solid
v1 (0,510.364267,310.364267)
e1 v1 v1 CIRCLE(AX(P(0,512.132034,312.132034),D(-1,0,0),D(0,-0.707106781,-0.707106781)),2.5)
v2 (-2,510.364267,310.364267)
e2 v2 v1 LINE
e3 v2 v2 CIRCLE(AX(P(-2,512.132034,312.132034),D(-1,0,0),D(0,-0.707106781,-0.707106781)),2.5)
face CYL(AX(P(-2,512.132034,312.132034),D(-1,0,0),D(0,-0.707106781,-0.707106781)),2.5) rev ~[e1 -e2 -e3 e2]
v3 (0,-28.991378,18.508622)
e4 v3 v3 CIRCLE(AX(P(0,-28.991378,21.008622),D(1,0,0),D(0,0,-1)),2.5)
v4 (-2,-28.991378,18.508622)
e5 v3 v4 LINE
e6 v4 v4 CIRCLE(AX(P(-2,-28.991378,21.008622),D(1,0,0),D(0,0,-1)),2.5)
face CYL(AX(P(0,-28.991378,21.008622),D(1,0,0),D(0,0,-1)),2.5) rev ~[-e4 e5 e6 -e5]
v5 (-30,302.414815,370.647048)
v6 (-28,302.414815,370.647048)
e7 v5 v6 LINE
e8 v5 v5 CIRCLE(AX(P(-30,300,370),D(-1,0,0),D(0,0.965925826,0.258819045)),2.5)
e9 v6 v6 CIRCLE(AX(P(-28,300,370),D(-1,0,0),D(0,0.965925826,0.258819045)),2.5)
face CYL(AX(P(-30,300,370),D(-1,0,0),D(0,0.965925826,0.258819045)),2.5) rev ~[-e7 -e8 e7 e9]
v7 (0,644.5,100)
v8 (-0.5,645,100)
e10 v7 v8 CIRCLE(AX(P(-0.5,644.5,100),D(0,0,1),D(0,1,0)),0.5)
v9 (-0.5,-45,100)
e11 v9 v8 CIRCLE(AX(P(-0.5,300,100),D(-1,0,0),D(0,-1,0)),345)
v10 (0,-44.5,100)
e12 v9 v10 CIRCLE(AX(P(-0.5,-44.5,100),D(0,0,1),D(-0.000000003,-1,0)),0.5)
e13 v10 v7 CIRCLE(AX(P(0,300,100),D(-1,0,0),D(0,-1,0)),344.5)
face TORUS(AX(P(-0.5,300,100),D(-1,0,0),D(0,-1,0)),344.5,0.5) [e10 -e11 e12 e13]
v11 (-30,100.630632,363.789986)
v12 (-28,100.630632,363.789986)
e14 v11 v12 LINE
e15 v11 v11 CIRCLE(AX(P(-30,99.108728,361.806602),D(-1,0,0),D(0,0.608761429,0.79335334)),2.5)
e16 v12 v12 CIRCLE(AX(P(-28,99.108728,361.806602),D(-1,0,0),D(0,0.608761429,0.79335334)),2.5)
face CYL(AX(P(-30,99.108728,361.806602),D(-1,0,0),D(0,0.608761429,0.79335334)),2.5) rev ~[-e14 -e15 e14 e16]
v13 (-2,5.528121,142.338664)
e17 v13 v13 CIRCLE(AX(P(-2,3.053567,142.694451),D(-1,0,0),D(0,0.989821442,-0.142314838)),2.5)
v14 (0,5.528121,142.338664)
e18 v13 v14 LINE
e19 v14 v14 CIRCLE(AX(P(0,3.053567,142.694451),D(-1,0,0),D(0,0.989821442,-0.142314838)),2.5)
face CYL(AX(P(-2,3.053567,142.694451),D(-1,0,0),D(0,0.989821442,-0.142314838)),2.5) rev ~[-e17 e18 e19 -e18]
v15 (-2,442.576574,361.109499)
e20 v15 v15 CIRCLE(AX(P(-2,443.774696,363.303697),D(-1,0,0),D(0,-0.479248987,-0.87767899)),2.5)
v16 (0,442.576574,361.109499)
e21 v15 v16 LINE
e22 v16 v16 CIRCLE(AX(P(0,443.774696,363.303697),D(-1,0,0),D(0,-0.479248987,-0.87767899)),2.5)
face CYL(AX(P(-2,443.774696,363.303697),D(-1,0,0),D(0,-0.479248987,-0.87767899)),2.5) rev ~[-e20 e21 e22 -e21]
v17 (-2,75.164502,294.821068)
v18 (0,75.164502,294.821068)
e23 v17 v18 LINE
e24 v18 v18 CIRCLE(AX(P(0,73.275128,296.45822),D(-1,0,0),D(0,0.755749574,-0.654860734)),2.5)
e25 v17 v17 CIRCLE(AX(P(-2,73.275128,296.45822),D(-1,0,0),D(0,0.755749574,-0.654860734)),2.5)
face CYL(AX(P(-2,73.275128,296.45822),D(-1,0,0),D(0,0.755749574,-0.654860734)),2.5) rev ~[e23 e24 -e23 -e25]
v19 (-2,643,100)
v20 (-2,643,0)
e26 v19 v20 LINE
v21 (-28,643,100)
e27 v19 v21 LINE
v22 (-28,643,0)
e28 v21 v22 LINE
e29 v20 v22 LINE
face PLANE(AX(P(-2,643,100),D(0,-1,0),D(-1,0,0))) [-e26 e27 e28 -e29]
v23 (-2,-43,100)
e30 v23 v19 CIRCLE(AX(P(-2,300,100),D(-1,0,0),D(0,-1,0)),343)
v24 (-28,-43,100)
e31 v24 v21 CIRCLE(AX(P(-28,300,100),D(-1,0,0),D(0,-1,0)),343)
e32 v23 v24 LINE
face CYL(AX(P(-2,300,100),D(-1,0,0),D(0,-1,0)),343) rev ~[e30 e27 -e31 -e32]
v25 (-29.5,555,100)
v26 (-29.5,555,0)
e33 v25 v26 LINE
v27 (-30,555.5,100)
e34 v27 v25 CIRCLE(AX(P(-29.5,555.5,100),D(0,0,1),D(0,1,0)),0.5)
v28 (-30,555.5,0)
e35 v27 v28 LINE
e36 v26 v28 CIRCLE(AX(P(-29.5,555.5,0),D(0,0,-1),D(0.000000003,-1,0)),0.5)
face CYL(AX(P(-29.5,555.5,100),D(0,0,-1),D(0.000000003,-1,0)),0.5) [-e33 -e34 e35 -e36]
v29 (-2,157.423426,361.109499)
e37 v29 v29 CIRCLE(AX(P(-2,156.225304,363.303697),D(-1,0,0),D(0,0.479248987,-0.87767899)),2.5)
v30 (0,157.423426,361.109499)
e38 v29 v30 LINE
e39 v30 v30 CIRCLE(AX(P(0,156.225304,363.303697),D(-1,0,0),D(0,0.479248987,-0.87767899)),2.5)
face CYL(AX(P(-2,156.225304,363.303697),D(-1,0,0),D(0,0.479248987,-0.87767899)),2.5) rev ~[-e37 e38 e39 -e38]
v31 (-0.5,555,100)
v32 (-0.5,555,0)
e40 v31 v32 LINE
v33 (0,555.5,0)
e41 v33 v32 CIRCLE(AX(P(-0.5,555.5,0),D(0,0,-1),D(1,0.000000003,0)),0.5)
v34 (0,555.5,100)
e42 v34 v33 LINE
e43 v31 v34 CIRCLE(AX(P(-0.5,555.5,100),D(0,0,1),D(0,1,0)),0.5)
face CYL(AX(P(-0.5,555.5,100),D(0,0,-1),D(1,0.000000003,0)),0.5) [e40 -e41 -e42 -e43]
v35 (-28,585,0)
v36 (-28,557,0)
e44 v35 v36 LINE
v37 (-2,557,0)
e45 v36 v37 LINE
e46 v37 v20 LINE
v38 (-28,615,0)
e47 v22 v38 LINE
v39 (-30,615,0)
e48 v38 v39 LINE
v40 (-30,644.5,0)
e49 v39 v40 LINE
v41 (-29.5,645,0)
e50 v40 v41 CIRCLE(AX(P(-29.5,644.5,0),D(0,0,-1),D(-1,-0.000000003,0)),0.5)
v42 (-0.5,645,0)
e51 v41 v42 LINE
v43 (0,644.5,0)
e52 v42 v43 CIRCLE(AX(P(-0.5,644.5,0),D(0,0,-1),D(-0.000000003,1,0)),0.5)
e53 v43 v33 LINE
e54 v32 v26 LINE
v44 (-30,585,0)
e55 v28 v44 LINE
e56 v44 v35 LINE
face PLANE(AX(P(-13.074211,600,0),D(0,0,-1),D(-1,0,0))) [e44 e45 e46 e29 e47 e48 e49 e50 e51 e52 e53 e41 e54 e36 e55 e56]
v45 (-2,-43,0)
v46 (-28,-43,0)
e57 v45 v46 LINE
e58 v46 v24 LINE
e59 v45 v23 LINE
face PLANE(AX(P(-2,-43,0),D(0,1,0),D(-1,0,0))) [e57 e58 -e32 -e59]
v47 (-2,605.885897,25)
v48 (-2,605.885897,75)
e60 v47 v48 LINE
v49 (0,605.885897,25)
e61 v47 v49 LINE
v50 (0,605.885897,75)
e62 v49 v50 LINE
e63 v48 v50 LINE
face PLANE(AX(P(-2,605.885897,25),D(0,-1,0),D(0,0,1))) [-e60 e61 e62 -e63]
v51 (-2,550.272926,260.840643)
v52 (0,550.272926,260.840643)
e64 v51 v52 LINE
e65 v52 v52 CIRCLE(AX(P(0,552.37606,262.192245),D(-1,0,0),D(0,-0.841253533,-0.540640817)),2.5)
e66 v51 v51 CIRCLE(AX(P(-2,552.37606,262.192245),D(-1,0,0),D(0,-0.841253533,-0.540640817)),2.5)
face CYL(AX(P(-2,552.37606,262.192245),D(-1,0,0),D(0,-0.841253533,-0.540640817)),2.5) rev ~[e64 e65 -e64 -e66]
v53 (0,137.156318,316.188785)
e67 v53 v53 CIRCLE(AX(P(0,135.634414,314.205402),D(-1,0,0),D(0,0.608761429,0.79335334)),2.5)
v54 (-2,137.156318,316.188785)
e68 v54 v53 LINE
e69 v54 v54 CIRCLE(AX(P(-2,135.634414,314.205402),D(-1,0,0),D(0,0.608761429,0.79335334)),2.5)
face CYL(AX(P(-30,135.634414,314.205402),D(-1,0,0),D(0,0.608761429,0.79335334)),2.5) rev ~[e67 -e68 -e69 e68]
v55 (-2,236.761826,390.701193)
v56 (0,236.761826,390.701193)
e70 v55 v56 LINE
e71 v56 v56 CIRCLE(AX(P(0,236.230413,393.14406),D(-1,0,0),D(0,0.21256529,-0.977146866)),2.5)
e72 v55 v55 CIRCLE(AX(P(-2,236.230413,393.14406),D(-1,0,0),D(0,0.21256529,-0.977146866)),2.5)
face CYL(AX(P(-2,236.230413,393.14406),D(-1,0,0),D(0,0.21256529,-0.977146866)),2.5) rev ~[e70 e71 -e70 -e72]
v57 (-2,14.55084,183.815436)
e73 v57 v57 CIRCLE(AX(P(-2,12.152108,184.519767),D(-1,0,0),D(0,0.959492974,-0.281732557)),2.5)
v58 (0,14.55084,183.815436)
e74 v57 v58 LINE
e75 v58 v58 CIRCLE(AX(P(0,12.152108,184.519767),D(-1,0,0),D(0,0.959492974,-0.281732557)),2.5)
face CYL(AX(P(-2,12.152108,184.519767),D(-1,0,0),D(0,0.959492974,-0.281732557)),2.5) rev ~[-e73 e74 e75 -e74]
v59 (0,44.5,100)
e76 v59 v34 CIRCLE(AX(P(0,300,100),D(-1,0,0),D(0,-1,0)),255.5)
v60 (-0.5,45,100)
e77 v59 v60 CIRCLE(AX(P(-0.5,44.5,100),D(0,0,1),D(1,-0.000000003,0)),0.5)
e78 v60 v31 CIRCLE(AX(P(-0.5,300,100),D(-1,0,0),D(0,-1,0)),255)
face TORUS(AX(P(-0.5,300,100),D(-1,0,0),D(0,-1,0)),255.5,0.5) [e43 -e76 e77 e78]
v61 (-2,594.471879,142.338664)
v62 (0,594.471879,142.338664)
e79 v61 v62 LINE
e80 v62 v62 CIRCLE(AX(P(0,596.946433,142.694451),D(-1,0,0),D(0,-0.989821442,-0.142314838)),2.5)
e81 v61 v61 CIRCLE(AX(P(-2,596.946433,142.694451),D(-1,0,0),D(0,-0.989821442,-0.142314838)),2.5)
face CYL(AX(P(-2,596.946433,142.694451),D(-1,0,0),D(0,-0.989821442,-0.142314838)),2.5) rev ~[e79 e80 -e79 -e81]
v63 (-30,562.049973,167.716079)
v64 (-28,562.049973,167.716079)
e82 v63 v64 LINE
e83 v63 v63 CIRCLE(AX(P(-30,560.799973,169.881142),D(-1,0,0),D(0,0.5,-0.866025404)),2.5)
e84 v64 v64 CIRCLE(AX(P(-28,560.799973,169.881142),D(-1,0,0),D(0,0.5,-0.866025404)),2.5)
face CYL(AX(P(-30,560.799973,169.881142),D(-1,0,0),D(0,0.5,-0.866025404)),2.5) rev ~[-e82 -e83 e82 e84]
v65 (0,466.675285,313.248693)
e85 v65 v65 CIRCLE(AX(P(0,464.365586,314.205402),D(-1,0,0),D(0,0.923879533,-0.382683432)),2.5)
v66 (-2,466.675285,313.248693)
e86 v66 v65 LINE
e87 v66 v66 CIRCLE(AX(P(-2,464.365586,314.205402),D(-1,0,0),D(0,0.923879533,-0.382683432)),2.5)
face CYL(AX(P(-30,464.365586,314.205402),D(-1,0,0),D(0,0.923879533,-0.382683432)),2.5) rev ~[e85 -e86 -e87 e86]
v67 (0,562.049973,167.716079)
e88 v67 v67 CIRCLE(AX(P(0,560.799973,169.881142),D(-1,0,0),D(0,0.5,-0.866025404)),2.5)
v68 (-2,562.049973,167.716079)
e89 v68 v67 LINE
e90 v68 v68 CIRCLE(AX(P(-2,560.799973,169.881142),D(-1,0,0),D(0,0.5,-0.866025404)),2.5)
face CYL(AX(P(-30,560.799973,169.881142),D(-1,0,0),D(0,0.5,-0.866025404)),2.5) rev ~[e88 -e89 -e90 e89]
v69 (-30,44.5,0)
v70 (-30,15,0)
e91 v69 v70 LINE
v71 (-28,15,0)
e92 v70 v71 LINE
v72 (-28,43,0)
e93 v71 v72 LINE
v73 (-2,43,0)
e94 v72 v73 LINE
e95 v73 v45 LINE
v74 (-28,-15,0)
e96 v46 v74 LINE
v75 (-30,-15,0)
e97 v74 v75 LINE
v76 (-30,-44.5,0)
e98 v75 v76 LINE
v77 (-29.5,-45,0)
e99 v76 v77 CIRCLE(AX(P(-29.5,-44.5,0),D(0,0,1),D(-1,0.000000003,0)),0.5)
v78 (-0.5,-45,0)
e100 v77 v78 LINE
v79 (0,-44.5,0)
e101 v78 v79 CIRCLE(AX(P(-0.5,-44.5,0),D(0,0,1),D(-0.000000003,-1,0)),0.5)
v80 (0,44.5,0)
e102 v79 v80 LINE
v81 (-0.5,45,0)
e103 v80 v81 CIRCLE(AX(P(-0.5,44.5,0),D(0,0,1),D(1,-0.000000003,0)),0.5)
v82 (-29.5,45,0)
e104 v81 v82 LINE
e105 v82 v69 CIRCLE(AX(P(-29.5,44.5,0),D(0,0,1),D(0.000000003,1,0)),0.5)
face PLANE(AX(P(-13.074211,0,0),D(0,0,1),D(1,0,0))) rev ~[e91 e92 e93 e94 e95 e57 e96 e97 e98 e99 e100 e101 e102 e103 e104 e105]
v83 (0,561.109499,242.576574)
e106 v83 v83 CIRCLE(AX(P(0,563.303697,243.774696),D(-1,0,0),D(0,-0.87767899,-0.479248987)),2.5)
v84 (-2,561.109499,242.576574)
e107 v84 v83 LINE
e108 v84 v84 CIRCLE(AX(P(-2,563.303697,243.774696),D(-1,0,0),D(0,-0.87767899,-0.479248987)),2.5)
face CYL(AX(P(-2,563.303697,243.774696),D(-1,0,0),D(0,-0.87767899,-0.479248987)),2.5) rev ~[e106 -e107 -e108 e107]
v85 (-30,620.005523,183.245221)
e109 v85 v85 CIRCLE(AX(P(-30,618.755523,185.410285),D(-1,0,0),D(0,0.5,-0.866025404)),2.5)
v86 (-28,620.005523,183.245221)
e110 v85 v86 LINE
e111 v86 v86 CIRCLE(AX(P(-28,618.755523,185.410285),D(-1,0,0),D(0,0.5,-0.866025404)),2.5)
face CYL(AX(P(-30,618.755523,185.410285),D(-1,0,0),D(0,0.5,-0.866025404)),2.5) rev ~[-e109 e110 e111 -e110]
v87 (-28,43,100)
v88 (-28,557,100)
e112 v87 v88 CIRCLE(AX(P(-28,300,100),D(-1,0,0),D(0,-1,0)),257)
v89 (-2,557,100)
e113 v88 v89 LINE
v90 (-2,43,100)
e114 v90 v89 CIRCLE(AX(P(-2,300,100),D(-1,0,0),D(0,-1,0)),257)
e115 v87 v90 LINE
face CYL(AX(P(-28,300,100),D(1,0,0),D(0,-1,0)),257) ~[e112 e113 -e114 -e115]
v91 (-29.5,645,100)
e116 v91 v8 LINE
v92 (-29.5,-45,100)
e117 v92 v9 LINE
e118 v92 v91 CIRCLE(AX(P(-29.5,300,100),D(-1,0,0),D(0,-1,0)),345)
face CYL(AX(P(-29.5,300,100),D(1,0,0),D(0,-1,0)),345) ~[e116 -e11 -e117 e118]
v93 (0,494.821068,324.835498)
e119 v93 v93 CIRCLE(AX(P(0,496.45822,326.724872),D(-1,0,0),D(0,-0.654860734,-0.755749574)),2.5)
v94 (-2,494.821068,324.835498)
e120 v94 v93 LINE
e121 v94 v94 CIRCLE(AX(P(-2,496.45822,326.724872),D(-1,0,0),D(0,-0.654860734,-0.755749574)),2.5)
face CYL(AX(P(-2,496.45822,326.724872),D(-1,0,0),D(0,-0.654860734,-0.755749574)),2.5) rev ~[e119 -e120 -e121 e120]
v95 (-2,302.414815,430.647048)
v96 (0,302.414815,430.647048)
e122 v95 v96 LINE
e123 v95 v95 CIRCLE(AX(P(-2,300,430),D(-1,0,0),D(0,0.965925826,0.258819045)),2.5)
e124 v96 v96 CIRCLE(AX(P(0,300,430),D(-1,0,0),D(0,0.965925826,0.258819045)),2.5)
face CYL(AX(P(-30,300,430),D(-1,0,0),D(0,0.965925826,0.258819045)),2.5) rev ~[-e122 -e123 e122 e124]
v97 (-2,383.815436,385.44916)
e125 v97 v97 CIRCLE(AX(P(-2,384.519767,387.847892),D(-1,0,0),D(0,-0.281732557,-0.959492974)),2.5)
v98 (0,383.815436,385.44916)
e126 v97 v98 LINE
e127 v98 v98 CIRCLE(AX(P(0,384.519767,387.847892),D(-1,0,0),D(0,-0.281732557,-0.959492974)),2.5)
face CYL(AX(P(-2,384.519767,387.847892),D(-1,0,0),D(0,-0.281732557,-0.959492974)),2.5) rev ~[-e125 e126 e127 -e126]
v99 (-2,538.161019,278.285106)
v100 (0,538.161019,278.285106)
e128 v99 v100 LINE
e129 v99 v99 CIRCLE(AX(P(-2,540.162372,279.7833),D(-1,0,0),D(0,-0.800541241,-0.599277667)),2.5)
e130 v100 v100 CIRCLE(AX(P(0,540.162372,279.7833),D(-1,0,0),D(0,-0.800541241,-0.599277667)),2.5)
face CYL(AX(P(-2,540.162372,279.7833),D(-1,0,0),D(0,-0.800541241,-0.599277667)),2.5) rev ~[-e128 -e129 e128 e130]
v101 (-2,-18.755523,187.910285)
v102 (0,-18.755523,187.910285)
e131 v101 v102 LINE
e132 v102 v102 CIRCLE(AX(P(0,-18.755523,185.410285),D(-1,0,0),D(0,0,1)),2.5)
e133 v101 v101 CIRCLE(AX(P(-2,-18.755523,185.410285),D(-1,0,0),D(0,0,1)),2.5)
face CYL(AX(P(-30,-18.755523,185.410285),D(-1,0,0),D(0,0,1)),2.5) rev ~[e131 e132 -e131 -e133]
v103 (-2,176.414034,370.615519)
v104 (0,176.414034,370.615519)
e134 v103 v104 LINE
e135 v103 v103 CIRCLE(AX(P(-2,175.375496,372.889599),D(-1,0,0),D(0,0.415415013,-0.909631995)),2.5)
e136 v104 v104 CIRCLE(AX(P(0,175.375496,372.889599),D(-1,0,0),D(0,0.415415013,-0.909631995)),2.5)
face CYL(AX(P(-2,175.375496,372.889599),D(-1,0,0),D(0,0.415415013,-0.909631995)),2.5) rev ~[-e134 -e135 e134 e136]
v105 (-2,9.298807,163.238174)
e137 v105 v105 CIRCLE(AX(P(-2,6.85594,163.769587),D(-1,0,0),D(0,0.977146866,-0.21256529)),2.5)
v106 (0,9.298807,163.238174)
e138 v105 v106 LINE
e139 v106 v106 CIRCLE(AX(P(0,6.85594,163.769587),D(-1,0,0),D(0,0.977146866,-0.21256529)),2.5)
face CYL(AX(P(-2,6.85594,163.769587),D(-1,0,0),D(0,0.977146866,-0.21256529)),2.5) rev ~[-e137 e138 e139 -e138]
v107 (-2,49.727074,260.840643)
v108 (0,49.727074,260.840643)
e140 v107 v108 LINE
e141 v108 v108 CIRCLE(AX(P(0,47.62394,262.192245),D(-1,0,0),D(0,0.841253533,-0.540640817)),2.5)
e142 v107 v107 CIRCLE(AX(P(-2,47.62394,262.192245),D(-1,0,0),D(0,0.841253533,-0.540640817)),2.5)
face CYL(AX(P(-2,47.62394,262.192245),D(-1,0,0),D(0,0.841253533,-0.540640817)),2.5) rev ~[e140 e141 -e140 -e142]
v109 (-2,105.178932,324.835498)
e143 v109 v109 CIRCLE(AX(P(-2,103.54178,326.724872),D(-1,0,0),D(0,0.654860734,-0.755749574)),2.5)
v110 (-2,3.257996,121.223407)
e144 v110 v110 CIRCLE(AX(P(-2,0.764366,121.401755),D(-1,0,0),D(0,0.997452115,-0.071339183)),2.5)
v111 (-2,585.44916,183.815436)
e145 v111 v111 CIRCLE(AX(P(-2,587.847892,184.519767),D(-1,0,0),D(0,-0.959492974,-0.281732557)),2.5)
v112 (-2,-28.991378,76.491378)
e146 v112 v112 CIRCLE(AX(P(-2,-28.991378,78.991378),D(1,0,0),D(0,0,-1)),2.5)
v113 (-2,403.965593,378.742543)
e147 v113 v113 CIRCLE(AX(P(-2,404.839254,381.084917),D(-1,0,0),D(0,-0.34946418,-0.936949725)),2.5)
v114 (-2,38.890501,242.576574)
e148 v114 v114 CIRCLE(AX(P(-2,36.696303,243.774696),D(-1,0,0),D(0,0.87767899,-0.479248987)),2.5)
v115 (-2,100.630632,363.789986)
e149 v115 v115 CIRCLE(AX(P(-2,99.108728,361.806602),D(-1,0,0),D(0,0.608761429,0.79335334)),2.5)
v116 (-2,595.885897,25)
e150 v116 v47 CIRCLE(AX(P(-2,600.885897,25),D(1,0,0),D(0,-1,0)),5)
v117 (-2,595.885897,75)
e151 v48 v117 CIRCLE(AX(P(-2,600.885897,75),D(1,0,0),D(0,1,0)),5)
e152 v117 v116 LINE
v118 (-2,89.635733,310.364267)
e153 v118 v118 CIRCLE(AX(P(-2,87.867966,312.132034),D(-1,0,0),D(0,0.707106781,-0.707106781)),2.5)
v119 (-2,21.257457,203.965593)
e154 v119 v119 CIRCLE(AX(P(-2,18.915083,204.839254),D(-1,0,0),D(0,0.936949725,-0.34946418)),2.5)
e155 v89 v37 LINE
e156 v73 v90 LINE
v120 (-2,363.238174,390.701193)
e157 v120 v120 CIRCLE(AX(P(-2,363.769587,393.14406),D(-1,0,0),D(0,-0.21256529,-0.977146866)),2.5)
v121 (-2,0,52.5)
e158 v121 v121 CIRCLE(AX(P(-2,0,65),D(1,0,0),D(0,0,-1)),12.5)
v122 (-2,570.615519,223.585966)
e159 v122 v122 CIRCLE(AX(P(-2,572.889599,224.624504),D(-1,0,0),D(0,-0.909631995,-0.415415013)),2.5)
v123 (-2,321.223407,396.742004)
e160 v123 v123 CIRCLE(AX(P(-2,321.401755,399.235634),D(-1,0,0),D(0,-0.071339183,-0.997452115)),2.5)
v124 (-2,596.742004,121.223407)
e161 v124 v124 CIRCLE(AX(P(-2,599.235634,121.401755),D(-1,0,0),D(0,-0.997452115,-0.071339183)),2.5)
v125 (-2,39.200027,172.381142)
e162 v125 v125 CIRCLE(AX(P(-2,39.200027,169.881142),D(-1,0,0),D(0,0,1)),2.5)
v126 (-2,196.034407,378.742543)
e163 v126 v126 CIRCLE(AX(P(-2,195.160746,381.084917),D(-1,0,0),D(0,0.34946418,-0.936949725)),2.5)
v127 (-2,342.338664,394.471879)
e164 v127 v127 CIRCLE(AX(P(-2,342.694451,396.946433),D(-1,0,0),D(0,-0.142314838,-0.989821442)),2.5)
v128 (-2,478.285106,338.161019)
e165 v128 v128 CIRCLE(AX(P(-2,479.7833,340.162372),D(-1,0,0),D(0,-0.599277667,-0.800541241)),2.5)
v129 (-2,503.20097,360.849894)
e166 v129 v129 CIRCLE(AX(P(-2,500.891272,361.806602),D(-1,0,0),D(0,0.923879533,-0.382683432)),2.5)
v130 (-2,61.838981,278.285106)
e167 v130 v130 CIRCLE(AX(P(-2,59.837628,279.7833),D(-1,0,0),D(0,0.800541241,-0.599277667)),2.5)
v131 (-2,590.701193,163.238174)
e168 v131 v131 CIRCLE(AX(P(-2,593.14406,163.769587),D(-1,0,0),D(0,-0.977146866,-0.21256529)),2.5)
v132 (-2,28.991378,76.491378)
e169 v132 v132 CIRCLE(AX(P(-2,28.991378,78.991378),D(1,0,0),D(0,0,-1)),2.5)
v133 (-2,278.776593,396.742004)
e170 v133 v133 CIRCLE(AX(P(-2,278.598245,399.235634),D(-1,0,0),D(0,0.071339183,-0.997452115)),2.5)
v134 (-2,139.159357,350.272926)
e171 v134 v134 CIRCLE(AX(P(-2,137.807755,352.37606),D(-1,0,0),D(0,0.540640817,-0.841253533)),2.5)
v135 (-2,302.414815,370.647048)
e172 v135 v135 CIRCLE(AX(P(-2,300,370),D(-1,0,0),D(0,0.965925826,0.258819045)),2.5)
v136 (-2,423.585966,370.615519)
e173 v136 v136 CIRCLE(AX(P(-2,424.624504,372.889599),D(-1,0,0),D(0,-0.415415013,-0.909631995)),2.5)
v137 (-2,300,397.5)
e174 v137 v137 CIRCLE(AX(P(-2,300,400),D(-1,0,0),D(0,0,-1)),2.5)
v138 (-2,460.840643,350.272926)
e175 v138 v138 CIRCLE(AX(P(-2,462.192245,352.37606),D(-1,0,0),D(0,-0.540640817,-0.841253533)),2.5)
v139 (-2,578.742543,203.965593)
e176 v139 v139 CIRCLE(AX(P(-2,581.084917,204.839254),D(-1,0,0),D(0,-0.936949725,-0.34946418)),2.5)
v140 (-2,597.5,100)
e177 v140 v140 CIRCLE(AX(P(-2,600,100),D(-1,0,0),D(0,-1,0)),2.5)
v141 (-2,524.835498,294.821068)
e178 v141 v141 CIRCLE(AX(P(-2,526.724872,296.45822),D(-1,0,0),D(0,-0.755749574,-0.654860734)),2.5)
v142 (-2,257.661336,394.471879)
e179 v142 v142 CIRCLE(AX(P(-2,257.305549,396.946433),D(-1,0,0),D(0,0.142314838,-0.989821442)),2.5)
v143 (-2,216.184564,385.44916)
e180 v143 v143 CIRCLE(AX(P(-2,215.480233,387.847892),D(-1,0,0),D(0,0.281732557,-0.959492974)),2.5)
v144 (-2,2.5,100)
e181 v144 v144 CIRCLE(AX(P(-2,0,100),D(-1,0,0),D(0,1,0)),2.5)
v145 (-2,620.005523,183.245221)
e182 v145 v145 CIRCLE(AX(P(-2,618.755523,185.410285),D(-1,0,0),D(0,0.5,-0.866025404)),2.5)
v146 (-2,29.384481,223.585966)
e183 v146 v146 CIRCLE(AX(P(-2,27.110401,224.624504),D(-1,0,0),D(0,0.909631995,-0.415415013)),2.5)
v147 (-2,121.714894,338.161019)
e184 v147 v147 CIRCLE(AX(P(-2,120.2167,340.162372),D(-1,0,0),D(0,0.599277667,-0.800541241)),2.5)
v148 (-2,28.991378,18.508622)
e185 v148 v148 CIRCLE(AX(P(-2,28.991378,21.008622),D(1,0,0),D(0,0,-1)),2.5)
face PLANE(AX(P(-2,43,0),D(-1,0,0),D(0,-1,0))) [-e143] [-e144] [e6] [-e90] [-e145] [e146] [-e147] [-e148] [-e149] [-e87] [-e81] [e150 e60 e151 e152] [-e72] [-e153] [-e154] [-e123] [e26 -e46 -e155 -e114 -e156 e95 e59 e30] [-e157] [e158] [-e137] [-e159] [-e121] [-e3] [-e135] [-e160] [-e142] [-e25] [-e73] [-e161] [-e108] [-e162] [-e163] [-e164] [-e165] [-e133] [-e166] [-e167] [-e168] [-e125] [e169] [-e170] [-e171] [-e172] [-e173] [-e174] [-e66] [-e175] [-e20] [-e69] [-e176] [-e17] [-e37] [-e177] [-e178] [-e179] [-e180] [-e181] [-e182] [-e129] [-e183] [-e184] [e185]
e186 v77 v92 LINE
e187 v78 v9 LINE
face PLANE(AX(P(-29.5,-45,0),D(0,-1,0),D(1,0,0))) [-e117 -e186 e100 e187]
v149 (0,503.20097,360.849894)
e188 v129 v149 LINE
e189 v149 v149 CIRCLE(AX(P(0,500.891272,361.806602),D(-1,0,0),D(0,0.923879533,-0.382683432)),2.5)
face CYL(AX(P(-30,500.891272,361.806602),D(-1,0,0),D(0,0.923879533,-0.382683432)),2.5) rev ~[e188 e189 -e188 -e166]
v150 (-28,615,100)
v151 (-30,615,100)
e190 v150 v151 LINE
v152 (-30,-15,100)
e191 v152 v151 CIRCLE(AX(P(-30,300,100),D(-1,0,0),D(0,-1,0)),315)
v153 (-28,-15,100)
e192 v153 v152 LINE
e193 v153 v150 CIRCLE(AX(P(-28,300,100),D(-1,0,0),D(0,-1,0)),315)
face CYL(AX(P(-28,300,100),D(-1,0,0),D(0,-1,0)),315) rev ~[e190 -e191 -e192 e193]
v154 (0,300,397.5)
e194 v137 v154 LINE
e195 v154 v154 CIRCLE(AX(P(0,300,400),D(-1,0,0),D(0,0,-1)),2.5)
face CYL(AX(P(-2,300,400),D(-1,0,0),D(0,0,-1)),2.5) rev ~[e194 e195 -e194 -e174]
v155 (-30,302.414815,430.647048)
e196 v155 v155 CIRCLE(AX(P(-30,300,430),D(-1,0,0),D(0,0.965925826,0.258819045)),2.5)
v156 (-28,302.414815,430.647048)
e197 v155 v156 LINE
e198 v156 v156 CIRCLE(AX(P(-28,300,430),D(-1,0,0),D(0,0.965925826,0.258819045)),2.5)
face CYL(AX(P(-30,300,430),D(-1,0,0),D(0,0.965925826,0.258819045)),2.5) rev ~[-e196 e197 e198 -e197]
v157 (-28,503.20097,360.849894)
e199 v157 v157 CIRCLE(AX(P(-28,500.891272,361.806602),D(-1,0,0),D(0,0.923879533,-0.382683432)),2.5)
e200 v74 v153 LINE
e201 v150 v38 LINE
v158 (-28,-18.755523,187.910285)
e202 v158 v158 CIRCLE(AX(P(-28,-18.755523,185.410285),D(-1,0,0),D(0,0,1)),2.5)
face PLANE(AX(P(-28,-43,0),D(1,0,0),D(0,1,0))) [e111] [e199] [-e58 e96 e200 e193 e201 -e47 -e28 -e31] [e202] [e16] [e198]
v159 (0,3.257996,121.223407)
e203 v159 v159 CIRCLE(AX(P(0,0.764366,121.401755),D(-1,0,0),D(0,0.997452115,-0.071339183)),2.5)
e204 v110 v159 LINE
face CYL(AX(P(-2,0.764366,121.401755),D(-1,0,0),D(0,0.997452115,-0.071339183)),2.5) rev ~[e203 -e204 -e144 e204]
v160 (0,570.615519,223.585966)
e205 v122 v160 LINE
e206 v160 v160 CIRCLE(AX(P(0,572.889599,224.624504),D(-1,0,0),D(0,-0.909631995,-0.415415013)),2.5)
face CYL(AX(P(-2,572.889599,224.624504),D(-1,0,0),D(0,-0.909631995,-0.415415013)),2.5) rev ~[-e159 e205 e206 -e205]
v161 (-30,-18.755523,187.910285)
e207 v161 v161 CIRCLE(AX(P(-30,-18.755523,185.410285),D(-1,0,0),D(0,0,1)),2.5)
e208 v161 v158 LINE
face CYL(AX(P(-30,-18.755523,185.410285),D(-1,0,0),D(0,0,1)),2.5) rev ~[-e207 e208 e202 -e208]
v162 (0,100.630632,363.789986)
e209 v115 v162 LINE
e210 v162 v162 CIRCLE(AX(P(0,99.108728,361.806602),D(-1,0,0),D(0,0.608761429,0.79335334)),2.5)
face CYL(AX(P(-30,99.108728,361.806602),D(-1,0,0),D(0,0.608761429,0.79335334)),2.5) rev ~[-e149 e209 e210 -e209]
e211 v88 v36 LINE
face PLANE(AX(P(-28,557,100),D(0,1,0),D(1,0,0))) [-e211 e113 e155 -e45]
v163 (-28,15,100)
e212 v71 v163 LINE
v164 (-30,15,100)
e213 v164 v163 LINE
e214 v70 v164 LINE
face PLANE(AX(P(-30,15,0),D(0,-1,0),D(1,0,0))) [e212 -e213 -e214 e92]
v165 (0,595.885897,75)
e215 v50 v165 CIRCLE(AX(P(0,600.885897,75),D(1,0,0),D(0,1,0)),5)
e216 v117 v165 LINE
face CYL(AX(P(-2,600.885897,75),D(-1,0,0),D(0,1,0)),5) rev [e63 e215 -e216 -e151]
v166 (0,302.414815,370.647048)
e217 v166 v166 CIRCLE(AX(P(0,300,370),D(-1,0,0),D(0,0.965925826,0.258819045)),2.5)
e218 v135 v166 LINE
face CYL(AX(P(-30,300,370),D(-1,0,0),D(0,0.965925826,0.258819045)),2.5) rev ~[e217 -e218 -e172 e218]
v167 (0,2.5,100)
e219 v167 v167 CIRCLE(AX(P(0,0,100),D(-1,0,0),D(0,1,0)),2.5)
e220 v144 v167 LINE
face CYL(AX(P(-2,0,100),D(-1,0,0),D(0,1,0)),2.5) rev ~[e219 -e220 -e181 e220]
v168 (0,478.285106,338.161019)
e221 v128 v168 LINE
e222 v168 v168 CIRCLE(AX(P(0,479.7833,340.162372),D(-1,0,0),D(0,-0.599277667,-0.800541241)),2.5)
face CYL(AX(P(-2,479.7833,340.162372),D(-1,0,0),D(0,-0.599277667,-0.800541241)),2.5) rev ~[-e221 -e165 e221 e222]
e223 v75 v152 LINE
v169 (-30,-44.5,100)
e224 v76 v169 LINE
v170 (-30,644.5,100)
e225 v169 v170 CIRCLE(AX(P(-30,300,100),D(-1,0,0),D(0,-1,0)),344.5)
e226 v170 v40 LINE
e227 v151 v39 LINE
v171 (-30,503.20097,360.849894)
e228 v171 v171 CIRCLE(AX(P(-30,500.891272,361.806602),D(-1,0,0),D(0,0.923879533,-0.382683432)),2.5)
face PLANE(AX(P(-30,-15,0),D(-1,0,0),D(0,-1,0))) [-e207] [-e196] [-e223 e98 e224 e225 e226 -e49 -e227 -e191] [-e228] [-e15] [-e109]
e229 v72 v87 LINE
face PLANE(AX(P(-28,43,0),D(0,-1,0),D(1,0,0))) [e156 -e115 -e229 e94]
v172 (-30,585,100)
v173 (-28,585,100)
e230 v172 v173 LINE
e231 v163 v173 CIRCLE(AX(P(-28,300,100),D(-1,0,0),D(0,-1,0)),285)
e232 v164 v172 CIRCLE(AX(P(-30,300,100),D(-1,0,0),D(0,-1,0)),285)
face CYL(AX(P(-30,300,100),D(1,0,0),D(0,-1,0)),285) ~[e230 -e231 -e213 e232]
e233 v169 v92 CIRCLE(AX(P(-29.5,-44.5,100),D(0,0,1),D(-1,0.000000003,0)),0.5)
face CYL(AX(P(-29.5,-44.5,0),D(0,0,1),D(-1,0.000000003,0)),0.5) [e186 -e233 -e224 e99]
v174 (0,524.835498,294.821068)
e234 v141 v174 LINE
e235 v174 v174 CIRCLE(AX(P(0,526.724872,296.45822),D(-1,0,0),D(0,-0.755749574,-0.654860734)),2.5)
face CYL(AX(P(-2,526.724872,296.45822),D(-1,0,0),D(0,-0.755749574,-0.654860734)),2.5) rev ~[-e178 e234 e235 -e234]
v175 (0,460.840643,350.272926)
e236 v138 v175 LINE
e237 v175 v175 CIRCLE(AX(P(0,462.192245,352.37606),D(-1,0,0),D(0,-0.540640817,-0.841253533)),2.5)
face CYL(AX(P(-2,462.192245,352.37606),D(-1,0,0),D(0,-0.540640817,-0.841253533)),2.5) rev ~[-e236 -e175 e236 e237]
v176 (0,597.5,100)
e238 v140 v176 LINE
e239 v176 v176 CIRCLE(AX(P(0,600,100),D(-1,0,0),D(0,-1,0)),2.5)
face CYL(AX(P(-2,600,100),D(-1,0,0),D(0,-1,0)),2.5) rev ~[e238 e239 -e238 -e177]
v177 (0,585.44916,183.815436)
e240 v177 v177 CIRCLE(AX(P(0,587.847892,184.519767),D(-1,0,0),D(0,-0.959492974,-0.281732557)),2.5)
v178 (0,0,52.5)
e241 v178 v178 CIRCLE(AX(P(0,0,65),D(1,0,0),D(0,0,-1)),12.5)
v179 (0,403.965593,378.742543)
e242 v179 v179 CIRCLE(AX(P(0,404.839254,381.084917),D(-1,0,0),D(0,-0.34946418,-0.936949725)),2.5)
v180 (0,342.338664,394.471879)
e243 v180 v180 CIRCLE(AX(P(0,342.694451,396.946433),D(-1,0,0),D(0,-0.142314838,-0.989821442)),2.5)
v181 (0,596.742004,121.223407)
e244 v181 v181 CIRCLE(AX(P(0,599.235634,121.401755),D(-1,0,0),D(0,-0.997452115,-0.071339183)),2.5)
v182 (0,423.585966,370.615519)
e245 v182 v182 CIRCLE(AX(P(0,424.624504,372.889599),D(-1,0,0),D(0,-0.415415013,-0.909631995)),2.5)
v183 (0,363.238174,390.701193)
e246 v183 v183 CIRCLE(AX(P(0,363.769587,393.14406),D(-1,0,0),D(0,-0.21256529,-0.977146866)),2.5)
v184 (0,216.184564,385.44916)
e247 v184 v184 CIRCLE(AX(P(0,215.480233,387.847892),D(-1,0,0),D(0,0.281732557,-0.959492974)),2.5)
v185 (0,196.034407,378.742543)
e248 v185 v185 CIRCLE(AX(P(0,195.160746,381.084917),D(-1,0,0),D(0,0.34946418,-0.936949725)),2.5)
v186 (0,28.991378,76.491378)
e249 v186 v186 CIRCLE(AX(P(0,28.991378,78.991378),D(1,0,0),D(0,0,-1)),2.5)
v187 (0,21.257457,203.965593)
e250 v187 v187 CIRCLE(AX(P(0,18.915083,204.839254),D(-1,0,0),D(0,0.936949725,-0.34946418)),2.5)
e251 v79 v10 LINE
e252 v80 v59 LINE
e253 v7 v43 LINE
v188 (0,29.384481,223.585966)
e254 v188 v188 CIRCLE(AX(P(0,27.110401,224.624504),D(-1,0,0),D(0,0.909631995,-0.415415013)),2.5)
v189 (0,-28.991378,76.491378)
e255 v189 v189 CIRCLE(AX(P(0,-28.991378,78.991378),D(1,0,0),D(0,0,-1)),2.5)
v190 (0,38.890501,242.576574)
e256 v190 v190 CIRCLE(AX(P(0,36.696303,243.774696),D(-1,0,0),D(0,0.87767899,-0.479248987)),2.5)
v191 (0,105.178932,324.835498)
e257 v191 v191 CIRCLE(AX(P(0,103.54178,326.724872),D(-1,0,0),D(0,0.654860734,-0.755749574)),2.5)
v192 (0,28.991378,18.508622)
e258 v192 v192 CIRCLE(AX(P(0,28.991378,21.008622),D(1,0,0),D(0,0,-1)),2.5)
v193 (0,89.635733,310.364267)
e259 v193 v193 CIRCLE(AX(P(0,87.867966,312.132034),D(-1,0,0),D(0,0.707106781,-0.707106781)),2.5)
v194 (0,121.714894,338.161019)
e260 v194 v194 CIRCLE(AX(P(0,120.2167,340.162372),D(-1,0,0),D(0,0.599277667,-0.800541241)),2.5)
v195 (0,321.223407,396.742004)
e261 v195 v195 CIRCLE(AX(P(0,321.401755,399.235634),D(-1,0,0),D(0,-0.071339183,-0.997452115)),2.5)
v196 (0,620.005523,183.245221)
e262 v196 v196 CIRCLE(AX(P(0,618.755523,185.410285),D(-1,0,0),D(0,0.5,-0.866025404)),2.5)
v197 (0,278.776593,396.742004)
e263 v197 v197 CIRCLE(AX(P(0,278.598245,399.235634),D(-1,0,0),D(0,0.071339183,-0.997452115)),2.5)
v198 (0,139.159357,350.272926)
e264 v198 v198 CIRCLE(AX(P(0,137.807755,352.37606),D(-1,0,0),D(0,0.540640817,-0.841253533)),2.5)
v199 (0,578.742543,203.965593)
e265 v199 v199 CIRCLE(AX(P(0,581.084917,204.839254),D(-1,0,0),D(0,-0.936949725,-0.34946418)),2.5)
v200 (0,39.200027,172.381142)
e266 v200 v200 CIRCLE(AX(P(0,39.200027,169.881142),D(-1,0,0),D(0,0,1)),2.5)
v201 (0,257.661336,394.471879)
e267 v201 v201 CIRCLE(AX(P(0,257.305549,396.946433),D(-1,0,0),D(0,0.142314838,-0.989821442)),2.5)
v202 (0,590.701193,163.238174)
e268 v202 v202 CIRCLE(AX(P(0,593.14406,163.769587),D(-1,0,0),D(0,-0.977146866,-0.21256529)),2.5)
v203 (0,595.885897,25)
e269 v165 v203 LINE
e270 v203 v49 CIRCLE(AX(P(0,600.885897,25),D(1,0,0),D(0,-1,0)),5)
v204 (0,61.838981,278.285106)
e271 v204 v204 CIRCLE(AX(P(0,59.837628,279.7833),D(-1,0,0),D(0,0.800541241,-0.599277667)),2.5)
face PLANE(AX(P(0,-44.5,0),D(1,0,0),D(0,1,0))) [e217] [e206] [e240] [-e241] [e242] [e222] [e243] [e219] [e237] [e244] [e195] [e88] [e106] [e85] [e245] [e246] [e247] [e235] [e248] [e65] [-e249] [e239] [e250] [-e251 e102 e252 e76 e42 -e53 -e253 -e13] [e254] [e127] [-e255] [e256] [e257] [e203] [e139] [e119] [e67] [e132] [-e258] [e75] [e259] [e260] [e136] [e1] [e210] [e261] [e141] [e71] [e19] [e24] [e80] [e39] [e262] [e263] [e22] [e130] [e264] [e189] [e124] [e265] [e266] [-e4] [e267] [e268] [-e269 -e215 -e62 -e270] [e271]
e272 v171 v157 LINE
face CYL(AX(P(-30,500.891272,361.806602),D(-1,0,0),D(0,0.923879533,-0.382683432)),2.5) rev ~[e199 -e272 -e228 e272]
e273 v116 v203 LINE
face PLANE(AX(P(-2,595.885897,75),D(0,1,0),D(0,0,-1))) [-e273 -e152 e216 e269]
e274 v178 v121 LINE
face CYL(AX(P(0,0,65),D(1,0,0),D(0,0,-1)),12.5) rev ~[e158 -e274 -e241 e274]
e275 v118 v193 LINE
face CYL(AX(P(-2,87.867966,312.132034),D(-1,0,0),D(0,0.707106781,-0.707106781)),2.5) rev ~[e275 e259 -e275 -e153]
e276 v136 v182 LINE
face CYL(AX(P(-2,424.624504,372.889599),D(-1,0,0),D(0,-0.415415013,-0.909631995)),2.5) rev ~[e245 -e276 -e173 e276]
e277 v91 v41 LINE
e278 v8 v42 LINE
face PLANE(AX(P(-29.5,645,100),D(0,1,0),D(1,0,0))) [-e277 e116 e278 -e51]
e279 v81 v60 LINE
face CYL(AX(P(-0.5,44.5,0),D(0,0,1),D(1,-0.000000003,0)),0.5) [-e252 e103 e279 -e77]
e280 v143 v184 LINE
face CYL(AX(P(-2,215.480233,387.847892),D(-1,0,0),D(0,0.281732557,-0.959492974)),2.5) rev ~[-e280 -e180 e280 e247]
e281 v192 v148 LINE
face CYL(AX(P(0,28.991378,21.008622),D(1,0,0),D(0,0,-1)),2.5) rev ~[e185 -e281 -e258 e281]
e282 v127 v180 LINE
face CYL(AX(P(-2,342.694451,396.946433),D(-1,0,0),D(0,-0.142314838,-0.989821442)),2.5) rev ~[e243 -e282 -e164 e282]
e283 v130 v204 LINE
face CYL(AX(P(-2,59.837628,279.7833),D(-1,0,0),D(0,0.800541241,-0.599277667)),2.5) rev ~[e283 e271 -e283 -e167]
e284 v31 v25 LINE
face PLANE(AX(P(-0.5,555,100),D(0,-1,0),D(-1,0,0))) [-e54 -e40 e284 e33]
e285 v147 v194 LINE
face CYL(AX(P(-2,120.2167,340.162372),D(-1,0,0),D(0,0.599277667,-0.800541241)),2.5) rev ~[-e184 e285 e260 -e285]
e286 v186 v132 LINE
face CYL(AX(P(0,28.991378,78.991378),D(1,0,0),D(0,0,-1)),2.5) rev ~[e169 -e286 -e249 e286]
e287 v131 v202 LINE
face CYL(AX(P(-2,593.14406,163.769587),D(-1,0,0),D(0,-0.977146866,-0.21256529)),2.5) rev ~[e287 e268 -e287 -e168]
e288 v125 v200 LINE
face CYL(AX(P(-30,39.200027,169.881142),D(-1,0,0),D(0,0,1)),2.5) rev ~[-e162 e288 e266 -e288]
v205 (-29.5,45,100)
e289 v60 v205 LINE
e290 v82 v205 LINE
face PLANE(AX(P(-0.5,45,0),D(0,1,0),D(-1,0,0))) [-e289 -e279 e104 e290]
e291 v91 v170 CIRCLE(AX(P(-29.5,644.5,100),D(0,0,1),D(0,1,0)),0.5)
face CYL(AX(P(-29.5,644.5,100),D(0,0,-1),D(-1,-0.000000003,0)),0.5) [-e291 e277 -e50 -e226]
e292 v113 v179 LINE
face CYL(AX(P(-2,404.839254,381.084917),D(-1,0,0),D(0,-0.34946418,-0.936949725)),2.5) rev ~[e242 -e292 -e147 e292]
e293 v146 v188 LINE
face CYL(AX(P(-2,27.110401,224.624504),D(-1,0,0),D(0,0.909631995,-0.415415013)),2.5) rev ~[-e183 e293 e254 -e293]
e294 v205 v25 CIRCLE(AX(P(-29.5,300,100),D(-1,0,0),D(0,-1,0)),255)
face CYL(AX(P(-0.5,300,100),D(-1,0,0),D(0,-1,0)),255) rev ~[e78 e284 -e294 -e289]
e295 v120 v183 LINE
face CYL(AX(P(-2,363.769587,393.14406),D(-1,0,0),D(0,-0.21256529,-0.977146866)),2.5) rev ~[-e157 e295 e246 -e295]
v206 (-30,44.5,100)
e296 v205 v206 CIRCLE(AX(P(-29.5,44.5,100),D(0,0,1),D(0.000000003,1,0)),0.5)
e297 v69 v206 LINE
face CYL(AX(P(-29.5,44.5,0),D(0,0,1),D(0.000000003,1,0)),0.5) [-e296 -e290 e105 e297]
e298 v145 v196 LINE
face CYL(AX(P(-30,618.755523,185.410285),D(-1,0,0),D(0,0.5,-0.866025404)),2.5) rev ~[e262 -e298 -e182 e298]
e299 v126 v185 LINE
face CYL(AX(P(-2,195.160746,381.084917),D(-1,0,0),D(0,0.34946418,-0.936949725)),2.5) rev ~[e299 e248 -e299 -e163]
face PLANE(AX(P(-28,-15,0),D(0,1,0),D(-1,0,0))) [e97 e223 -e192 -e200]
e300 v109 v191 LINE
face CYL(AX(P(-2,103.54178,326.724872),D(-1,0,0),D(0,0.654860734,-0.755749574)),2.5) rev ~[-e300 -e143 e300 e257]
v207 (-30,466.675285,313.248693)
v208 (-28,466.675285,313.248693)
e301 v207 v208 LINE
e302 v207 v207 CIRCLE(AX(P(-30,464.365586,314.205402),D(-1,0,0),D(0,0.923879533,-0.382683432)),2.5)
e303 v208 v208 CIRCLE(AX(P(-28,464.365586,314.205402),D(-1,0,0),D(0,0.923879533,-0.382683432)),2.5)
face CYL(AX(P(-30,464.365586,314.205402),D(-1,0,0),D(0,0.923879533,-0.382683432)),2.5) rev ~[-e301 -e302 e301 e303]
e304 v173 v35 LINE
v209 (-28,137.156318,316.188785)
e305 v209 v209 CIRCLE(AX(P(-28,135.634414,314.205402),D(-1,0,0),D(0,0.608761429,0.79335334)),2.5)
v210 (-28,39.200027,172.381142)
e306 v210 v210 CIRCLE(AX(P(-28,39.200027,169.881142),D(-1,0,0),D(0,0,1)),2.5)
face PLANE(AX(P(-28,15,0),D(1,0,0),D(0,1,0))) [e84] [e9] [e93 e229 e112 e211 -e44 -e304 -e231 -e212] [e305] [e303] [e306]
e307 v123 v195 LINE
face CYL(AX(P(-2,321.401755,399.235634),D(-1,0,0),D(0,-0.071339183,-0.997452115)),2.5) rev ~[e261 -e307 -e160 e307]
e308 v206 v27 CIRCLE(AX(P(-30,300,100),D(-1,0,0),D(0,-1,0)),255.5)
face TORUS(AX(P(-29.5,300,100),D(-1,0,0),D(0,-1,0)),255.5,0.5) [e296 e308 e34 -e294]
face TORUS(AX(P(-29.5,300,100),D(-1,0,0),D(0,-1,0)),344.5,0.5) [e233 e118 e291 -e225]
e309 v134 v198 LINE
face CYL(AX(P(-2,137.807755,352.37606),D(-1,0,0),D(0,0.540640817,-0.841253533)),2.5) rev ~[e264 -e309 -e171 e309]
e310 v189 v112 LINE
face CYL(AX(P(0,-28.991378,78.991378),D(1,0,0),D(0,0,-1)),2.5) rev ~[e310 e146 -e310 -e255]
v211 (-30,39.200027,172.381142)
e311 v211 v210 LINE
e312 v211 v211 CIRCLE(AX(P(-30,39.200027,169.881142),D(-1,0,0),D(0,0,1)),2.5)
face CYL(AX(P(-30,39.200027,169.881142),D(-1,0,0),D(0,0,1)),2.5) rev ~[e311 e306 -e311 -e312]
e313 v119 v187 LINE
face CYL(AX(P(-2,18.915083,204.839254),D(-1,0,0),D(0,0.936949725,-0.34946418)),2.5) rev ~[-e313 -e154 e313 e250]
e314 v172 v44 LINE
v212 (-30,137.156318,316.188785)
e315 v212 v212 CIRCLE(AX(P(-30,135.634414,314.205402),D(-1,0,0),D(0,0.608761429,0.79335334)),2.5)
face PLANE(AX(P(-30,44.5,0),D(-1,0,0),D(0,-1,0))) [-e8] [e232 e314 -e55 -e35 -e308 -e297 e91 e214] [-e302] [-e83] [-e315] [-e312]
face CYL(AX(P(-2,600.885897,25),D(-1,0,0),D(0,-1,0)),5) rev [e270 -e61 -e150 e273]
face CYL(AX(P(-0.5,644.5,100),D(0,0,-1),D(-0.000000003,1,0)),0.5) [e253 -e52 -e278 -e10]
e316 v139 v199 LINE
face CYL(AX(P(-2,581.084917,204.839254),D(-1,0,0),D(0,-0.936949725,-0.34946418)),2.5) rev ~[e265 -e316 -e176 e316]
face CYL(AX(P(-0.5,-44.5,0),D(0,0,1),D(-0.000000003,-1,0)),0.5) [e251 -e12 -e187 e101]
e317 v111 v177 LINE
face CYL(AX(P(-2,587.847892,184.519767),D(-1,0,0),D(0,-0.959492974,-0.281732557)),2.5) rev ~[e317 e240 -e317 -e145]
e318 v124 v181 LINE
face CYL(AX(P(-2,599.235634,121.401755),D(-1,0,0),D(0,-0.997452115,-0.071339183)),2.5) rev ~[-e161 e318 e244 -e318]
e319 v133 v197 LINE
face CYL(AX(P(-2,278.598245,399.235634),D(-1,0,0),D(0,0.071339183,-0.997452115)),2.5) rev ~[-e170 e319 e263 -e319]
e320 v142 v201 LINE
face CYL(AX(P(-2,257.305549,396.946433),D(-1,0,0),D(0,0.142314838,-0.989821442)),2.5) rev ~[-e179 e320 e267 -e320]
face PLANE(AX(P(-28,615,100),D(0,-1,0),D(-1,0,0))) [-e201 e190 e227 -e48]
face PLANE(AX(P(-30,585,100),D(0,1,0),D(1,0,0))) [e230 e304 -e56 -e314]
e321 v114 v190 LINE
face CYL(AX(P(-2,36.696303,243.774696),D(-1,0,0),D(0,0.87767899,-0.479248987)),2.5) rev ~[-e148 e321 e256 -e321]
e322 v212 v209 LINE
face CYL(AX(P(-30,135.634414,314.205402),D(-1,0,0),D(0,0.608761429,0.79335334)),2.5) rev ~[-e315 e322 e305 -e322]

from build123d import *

# Parameters (mm, degrees)
SKETCH5_R          = 2.5
SKETCH5_R_2        = 12.5
CUT_EXTRUDE1_DEPTH = 10
SKETCH6_R          = 2.5
CUT_EXTRUDE2_DEPTH = 30
CIRPATTERN1_COUNT  = 5
CIRPATTERN1_ANGLE  = 150
CUT_EXTRUDE3_DEPTH = 2
SKETCH8_R          = 2.5
CUT_EXTRUDE4_DEPTH = 10
CIRPATTERN2_COUNT  = 45
CIRPATTERN2_ANGLE  = 180


with BuildPart() as part:
    # Sweep2: sweep along a path in Sketch4
    with BuildLine(Plane(origin=(0, 0, 0), x_dir=(0, 0, -1), z_dir=(1, 0, 0))) as sweep2_path:
        Line((0, 0), (-100, 0))
        ThreePointArc((-100, 0), (-400, 300), (-100, 600))
        Line((-100, 600), (0, 600))
    # Sketch2 → Sweep2 (sweep)
    with BuildSketch(Plane.XY):
        with BuildLine():
            Line((0, -44.5), (0, 44.5))
            ThreePointArc((0, 44.5), (-0.146446609, 44.853553391), (-0.5, 45))
            Line((-0.5, 45), (-29.5, 45))
            ThreePointArc((-29.5, 45), (-29.853553391, 44.853553391), (-30, 44.5))
            Line((-30, 44.5), (-30, 15))
            Line((-30, 15), (-28, 15))
            Line((-28, 15), (-28, 43))
            Line((-28, 43), (-2, 43))
            Line((-2, 43), (-2, -43))
            Line((-2, -43), (-28, -43))
            Line((-28, -43), (-28, -15))
            Line((-28, -15), (-30, -15))
            Line((-30, -15), (-30, -44.5))
            ThreePointArc((-30, -44.5), (-29.853553391, -44.853553391), (-29.5, -45))
            Line((-29.5, -45), (-0.5, -45))
            ThreePointArc((-0.5, -45), (-0.146446609, -44.853553391), (0, -44.5))
        make_face()
    sweep(path=sweep2_path.line)

    # Sketch5 → Cut-Extrude1 (cut)
    with BuildSketch(Plane(origin=(0, 0, 0), x_dir=(0, 0, -1), z_dir=(1, 0, 0))):
        with Locations((-78.991378029, 28.991378029)):
            Circle(SKETCH5_R)
        with Locations((-78.991378029, -28.991378029)):
            Circle(SKETCH5_R)
        with Locations((-21.008621971, 28.991378029)):
            Circle(SKETCH5_R)
        with Locations((-21.008621971, -28.991378029)):
            Circle(SKETCH5_R)
        with Locations((-65, 0)):
            Circle(SKETCH5_R_2)
    extrude(amount=-CUT_EXTRUDE1_DEPTH, mode=Mode.SUBTRACT)

    # Sketch6 → Cut-Extrude2 (cut)
    with BuildSketch(Plane.ZY.offset(30)):
        with Locations((169.881142178, 39.200026902)):
            Circle(SKETCH6_R)
        with Locations((185.410284884, -18.755522675)):
            Circle(SKETCH6_R)
    cut_extrude2 = extrude(amount=-CUT_EXTRUDE2_DEPTH, mode=Mode.SUBTRACT)

    # CirPattern1: Cut-Extrude2 ×5 about axis
    cirpattern1_axis = Axis((0, 300, 100), (-1, 0, 0))
    for i in range(1, CIRPATTERN1_COUNT):
        add(cut_extrude2.rotate(cirpattern1_axis, i * CIRPATTERN1_ANGLE / (CIRPATTERN1_COUNT - 1)), mode=Mode.SUBTRACT)

    # Sketch7 → Cut-Extrude3 (cut)
    with BuildSketch(Plane.ZY.offset(2)):
        with BuildLine():
            Line((75, 595.885896699), (25, 595.885896699))
            ThreePointArc((25, 595.885896699), (20, 600.885896699), (25, 605.885896699))
            Line((25, 605.885896699), (75, 605.885896699))
            ThreePointArc((75, 605.885896699), (80, 600.885896699), (75, 595.885896699))
        make_face()
    extrude(amount=-CUT_EXTRUDE3_DEPTH, mode=Mode.SUBTRACT)

    # Sketch8 → Cut-Extrude4 (cut)
    with BuildSketch(Plane.ZY.offset(2)):
        with Locations(Location((100, 0, 0), (0, 0, 90))):
            Circle(SKETCH8_R)
    cut_extrude4 = extrude(amount=-CUT_EXTRUDE4_DEPTH, mode=Mode.SUBTRACT)

    # CirPattern2: Cut-Extrude4 ×45 about axis
    cirpattern2_axis = Axis((0, 300, 100), (-1, 0, 0))
    for i in range(1, CIRPATTERN2_COUNT):
        add(cut_extrude4.rotate(cirpattern2_axis, i * CIRPATTERN2_ANGLE / (CIRPATTERN2_COUNT - 1)), mode=Mode.SUBTRACT)


solid = part.part
